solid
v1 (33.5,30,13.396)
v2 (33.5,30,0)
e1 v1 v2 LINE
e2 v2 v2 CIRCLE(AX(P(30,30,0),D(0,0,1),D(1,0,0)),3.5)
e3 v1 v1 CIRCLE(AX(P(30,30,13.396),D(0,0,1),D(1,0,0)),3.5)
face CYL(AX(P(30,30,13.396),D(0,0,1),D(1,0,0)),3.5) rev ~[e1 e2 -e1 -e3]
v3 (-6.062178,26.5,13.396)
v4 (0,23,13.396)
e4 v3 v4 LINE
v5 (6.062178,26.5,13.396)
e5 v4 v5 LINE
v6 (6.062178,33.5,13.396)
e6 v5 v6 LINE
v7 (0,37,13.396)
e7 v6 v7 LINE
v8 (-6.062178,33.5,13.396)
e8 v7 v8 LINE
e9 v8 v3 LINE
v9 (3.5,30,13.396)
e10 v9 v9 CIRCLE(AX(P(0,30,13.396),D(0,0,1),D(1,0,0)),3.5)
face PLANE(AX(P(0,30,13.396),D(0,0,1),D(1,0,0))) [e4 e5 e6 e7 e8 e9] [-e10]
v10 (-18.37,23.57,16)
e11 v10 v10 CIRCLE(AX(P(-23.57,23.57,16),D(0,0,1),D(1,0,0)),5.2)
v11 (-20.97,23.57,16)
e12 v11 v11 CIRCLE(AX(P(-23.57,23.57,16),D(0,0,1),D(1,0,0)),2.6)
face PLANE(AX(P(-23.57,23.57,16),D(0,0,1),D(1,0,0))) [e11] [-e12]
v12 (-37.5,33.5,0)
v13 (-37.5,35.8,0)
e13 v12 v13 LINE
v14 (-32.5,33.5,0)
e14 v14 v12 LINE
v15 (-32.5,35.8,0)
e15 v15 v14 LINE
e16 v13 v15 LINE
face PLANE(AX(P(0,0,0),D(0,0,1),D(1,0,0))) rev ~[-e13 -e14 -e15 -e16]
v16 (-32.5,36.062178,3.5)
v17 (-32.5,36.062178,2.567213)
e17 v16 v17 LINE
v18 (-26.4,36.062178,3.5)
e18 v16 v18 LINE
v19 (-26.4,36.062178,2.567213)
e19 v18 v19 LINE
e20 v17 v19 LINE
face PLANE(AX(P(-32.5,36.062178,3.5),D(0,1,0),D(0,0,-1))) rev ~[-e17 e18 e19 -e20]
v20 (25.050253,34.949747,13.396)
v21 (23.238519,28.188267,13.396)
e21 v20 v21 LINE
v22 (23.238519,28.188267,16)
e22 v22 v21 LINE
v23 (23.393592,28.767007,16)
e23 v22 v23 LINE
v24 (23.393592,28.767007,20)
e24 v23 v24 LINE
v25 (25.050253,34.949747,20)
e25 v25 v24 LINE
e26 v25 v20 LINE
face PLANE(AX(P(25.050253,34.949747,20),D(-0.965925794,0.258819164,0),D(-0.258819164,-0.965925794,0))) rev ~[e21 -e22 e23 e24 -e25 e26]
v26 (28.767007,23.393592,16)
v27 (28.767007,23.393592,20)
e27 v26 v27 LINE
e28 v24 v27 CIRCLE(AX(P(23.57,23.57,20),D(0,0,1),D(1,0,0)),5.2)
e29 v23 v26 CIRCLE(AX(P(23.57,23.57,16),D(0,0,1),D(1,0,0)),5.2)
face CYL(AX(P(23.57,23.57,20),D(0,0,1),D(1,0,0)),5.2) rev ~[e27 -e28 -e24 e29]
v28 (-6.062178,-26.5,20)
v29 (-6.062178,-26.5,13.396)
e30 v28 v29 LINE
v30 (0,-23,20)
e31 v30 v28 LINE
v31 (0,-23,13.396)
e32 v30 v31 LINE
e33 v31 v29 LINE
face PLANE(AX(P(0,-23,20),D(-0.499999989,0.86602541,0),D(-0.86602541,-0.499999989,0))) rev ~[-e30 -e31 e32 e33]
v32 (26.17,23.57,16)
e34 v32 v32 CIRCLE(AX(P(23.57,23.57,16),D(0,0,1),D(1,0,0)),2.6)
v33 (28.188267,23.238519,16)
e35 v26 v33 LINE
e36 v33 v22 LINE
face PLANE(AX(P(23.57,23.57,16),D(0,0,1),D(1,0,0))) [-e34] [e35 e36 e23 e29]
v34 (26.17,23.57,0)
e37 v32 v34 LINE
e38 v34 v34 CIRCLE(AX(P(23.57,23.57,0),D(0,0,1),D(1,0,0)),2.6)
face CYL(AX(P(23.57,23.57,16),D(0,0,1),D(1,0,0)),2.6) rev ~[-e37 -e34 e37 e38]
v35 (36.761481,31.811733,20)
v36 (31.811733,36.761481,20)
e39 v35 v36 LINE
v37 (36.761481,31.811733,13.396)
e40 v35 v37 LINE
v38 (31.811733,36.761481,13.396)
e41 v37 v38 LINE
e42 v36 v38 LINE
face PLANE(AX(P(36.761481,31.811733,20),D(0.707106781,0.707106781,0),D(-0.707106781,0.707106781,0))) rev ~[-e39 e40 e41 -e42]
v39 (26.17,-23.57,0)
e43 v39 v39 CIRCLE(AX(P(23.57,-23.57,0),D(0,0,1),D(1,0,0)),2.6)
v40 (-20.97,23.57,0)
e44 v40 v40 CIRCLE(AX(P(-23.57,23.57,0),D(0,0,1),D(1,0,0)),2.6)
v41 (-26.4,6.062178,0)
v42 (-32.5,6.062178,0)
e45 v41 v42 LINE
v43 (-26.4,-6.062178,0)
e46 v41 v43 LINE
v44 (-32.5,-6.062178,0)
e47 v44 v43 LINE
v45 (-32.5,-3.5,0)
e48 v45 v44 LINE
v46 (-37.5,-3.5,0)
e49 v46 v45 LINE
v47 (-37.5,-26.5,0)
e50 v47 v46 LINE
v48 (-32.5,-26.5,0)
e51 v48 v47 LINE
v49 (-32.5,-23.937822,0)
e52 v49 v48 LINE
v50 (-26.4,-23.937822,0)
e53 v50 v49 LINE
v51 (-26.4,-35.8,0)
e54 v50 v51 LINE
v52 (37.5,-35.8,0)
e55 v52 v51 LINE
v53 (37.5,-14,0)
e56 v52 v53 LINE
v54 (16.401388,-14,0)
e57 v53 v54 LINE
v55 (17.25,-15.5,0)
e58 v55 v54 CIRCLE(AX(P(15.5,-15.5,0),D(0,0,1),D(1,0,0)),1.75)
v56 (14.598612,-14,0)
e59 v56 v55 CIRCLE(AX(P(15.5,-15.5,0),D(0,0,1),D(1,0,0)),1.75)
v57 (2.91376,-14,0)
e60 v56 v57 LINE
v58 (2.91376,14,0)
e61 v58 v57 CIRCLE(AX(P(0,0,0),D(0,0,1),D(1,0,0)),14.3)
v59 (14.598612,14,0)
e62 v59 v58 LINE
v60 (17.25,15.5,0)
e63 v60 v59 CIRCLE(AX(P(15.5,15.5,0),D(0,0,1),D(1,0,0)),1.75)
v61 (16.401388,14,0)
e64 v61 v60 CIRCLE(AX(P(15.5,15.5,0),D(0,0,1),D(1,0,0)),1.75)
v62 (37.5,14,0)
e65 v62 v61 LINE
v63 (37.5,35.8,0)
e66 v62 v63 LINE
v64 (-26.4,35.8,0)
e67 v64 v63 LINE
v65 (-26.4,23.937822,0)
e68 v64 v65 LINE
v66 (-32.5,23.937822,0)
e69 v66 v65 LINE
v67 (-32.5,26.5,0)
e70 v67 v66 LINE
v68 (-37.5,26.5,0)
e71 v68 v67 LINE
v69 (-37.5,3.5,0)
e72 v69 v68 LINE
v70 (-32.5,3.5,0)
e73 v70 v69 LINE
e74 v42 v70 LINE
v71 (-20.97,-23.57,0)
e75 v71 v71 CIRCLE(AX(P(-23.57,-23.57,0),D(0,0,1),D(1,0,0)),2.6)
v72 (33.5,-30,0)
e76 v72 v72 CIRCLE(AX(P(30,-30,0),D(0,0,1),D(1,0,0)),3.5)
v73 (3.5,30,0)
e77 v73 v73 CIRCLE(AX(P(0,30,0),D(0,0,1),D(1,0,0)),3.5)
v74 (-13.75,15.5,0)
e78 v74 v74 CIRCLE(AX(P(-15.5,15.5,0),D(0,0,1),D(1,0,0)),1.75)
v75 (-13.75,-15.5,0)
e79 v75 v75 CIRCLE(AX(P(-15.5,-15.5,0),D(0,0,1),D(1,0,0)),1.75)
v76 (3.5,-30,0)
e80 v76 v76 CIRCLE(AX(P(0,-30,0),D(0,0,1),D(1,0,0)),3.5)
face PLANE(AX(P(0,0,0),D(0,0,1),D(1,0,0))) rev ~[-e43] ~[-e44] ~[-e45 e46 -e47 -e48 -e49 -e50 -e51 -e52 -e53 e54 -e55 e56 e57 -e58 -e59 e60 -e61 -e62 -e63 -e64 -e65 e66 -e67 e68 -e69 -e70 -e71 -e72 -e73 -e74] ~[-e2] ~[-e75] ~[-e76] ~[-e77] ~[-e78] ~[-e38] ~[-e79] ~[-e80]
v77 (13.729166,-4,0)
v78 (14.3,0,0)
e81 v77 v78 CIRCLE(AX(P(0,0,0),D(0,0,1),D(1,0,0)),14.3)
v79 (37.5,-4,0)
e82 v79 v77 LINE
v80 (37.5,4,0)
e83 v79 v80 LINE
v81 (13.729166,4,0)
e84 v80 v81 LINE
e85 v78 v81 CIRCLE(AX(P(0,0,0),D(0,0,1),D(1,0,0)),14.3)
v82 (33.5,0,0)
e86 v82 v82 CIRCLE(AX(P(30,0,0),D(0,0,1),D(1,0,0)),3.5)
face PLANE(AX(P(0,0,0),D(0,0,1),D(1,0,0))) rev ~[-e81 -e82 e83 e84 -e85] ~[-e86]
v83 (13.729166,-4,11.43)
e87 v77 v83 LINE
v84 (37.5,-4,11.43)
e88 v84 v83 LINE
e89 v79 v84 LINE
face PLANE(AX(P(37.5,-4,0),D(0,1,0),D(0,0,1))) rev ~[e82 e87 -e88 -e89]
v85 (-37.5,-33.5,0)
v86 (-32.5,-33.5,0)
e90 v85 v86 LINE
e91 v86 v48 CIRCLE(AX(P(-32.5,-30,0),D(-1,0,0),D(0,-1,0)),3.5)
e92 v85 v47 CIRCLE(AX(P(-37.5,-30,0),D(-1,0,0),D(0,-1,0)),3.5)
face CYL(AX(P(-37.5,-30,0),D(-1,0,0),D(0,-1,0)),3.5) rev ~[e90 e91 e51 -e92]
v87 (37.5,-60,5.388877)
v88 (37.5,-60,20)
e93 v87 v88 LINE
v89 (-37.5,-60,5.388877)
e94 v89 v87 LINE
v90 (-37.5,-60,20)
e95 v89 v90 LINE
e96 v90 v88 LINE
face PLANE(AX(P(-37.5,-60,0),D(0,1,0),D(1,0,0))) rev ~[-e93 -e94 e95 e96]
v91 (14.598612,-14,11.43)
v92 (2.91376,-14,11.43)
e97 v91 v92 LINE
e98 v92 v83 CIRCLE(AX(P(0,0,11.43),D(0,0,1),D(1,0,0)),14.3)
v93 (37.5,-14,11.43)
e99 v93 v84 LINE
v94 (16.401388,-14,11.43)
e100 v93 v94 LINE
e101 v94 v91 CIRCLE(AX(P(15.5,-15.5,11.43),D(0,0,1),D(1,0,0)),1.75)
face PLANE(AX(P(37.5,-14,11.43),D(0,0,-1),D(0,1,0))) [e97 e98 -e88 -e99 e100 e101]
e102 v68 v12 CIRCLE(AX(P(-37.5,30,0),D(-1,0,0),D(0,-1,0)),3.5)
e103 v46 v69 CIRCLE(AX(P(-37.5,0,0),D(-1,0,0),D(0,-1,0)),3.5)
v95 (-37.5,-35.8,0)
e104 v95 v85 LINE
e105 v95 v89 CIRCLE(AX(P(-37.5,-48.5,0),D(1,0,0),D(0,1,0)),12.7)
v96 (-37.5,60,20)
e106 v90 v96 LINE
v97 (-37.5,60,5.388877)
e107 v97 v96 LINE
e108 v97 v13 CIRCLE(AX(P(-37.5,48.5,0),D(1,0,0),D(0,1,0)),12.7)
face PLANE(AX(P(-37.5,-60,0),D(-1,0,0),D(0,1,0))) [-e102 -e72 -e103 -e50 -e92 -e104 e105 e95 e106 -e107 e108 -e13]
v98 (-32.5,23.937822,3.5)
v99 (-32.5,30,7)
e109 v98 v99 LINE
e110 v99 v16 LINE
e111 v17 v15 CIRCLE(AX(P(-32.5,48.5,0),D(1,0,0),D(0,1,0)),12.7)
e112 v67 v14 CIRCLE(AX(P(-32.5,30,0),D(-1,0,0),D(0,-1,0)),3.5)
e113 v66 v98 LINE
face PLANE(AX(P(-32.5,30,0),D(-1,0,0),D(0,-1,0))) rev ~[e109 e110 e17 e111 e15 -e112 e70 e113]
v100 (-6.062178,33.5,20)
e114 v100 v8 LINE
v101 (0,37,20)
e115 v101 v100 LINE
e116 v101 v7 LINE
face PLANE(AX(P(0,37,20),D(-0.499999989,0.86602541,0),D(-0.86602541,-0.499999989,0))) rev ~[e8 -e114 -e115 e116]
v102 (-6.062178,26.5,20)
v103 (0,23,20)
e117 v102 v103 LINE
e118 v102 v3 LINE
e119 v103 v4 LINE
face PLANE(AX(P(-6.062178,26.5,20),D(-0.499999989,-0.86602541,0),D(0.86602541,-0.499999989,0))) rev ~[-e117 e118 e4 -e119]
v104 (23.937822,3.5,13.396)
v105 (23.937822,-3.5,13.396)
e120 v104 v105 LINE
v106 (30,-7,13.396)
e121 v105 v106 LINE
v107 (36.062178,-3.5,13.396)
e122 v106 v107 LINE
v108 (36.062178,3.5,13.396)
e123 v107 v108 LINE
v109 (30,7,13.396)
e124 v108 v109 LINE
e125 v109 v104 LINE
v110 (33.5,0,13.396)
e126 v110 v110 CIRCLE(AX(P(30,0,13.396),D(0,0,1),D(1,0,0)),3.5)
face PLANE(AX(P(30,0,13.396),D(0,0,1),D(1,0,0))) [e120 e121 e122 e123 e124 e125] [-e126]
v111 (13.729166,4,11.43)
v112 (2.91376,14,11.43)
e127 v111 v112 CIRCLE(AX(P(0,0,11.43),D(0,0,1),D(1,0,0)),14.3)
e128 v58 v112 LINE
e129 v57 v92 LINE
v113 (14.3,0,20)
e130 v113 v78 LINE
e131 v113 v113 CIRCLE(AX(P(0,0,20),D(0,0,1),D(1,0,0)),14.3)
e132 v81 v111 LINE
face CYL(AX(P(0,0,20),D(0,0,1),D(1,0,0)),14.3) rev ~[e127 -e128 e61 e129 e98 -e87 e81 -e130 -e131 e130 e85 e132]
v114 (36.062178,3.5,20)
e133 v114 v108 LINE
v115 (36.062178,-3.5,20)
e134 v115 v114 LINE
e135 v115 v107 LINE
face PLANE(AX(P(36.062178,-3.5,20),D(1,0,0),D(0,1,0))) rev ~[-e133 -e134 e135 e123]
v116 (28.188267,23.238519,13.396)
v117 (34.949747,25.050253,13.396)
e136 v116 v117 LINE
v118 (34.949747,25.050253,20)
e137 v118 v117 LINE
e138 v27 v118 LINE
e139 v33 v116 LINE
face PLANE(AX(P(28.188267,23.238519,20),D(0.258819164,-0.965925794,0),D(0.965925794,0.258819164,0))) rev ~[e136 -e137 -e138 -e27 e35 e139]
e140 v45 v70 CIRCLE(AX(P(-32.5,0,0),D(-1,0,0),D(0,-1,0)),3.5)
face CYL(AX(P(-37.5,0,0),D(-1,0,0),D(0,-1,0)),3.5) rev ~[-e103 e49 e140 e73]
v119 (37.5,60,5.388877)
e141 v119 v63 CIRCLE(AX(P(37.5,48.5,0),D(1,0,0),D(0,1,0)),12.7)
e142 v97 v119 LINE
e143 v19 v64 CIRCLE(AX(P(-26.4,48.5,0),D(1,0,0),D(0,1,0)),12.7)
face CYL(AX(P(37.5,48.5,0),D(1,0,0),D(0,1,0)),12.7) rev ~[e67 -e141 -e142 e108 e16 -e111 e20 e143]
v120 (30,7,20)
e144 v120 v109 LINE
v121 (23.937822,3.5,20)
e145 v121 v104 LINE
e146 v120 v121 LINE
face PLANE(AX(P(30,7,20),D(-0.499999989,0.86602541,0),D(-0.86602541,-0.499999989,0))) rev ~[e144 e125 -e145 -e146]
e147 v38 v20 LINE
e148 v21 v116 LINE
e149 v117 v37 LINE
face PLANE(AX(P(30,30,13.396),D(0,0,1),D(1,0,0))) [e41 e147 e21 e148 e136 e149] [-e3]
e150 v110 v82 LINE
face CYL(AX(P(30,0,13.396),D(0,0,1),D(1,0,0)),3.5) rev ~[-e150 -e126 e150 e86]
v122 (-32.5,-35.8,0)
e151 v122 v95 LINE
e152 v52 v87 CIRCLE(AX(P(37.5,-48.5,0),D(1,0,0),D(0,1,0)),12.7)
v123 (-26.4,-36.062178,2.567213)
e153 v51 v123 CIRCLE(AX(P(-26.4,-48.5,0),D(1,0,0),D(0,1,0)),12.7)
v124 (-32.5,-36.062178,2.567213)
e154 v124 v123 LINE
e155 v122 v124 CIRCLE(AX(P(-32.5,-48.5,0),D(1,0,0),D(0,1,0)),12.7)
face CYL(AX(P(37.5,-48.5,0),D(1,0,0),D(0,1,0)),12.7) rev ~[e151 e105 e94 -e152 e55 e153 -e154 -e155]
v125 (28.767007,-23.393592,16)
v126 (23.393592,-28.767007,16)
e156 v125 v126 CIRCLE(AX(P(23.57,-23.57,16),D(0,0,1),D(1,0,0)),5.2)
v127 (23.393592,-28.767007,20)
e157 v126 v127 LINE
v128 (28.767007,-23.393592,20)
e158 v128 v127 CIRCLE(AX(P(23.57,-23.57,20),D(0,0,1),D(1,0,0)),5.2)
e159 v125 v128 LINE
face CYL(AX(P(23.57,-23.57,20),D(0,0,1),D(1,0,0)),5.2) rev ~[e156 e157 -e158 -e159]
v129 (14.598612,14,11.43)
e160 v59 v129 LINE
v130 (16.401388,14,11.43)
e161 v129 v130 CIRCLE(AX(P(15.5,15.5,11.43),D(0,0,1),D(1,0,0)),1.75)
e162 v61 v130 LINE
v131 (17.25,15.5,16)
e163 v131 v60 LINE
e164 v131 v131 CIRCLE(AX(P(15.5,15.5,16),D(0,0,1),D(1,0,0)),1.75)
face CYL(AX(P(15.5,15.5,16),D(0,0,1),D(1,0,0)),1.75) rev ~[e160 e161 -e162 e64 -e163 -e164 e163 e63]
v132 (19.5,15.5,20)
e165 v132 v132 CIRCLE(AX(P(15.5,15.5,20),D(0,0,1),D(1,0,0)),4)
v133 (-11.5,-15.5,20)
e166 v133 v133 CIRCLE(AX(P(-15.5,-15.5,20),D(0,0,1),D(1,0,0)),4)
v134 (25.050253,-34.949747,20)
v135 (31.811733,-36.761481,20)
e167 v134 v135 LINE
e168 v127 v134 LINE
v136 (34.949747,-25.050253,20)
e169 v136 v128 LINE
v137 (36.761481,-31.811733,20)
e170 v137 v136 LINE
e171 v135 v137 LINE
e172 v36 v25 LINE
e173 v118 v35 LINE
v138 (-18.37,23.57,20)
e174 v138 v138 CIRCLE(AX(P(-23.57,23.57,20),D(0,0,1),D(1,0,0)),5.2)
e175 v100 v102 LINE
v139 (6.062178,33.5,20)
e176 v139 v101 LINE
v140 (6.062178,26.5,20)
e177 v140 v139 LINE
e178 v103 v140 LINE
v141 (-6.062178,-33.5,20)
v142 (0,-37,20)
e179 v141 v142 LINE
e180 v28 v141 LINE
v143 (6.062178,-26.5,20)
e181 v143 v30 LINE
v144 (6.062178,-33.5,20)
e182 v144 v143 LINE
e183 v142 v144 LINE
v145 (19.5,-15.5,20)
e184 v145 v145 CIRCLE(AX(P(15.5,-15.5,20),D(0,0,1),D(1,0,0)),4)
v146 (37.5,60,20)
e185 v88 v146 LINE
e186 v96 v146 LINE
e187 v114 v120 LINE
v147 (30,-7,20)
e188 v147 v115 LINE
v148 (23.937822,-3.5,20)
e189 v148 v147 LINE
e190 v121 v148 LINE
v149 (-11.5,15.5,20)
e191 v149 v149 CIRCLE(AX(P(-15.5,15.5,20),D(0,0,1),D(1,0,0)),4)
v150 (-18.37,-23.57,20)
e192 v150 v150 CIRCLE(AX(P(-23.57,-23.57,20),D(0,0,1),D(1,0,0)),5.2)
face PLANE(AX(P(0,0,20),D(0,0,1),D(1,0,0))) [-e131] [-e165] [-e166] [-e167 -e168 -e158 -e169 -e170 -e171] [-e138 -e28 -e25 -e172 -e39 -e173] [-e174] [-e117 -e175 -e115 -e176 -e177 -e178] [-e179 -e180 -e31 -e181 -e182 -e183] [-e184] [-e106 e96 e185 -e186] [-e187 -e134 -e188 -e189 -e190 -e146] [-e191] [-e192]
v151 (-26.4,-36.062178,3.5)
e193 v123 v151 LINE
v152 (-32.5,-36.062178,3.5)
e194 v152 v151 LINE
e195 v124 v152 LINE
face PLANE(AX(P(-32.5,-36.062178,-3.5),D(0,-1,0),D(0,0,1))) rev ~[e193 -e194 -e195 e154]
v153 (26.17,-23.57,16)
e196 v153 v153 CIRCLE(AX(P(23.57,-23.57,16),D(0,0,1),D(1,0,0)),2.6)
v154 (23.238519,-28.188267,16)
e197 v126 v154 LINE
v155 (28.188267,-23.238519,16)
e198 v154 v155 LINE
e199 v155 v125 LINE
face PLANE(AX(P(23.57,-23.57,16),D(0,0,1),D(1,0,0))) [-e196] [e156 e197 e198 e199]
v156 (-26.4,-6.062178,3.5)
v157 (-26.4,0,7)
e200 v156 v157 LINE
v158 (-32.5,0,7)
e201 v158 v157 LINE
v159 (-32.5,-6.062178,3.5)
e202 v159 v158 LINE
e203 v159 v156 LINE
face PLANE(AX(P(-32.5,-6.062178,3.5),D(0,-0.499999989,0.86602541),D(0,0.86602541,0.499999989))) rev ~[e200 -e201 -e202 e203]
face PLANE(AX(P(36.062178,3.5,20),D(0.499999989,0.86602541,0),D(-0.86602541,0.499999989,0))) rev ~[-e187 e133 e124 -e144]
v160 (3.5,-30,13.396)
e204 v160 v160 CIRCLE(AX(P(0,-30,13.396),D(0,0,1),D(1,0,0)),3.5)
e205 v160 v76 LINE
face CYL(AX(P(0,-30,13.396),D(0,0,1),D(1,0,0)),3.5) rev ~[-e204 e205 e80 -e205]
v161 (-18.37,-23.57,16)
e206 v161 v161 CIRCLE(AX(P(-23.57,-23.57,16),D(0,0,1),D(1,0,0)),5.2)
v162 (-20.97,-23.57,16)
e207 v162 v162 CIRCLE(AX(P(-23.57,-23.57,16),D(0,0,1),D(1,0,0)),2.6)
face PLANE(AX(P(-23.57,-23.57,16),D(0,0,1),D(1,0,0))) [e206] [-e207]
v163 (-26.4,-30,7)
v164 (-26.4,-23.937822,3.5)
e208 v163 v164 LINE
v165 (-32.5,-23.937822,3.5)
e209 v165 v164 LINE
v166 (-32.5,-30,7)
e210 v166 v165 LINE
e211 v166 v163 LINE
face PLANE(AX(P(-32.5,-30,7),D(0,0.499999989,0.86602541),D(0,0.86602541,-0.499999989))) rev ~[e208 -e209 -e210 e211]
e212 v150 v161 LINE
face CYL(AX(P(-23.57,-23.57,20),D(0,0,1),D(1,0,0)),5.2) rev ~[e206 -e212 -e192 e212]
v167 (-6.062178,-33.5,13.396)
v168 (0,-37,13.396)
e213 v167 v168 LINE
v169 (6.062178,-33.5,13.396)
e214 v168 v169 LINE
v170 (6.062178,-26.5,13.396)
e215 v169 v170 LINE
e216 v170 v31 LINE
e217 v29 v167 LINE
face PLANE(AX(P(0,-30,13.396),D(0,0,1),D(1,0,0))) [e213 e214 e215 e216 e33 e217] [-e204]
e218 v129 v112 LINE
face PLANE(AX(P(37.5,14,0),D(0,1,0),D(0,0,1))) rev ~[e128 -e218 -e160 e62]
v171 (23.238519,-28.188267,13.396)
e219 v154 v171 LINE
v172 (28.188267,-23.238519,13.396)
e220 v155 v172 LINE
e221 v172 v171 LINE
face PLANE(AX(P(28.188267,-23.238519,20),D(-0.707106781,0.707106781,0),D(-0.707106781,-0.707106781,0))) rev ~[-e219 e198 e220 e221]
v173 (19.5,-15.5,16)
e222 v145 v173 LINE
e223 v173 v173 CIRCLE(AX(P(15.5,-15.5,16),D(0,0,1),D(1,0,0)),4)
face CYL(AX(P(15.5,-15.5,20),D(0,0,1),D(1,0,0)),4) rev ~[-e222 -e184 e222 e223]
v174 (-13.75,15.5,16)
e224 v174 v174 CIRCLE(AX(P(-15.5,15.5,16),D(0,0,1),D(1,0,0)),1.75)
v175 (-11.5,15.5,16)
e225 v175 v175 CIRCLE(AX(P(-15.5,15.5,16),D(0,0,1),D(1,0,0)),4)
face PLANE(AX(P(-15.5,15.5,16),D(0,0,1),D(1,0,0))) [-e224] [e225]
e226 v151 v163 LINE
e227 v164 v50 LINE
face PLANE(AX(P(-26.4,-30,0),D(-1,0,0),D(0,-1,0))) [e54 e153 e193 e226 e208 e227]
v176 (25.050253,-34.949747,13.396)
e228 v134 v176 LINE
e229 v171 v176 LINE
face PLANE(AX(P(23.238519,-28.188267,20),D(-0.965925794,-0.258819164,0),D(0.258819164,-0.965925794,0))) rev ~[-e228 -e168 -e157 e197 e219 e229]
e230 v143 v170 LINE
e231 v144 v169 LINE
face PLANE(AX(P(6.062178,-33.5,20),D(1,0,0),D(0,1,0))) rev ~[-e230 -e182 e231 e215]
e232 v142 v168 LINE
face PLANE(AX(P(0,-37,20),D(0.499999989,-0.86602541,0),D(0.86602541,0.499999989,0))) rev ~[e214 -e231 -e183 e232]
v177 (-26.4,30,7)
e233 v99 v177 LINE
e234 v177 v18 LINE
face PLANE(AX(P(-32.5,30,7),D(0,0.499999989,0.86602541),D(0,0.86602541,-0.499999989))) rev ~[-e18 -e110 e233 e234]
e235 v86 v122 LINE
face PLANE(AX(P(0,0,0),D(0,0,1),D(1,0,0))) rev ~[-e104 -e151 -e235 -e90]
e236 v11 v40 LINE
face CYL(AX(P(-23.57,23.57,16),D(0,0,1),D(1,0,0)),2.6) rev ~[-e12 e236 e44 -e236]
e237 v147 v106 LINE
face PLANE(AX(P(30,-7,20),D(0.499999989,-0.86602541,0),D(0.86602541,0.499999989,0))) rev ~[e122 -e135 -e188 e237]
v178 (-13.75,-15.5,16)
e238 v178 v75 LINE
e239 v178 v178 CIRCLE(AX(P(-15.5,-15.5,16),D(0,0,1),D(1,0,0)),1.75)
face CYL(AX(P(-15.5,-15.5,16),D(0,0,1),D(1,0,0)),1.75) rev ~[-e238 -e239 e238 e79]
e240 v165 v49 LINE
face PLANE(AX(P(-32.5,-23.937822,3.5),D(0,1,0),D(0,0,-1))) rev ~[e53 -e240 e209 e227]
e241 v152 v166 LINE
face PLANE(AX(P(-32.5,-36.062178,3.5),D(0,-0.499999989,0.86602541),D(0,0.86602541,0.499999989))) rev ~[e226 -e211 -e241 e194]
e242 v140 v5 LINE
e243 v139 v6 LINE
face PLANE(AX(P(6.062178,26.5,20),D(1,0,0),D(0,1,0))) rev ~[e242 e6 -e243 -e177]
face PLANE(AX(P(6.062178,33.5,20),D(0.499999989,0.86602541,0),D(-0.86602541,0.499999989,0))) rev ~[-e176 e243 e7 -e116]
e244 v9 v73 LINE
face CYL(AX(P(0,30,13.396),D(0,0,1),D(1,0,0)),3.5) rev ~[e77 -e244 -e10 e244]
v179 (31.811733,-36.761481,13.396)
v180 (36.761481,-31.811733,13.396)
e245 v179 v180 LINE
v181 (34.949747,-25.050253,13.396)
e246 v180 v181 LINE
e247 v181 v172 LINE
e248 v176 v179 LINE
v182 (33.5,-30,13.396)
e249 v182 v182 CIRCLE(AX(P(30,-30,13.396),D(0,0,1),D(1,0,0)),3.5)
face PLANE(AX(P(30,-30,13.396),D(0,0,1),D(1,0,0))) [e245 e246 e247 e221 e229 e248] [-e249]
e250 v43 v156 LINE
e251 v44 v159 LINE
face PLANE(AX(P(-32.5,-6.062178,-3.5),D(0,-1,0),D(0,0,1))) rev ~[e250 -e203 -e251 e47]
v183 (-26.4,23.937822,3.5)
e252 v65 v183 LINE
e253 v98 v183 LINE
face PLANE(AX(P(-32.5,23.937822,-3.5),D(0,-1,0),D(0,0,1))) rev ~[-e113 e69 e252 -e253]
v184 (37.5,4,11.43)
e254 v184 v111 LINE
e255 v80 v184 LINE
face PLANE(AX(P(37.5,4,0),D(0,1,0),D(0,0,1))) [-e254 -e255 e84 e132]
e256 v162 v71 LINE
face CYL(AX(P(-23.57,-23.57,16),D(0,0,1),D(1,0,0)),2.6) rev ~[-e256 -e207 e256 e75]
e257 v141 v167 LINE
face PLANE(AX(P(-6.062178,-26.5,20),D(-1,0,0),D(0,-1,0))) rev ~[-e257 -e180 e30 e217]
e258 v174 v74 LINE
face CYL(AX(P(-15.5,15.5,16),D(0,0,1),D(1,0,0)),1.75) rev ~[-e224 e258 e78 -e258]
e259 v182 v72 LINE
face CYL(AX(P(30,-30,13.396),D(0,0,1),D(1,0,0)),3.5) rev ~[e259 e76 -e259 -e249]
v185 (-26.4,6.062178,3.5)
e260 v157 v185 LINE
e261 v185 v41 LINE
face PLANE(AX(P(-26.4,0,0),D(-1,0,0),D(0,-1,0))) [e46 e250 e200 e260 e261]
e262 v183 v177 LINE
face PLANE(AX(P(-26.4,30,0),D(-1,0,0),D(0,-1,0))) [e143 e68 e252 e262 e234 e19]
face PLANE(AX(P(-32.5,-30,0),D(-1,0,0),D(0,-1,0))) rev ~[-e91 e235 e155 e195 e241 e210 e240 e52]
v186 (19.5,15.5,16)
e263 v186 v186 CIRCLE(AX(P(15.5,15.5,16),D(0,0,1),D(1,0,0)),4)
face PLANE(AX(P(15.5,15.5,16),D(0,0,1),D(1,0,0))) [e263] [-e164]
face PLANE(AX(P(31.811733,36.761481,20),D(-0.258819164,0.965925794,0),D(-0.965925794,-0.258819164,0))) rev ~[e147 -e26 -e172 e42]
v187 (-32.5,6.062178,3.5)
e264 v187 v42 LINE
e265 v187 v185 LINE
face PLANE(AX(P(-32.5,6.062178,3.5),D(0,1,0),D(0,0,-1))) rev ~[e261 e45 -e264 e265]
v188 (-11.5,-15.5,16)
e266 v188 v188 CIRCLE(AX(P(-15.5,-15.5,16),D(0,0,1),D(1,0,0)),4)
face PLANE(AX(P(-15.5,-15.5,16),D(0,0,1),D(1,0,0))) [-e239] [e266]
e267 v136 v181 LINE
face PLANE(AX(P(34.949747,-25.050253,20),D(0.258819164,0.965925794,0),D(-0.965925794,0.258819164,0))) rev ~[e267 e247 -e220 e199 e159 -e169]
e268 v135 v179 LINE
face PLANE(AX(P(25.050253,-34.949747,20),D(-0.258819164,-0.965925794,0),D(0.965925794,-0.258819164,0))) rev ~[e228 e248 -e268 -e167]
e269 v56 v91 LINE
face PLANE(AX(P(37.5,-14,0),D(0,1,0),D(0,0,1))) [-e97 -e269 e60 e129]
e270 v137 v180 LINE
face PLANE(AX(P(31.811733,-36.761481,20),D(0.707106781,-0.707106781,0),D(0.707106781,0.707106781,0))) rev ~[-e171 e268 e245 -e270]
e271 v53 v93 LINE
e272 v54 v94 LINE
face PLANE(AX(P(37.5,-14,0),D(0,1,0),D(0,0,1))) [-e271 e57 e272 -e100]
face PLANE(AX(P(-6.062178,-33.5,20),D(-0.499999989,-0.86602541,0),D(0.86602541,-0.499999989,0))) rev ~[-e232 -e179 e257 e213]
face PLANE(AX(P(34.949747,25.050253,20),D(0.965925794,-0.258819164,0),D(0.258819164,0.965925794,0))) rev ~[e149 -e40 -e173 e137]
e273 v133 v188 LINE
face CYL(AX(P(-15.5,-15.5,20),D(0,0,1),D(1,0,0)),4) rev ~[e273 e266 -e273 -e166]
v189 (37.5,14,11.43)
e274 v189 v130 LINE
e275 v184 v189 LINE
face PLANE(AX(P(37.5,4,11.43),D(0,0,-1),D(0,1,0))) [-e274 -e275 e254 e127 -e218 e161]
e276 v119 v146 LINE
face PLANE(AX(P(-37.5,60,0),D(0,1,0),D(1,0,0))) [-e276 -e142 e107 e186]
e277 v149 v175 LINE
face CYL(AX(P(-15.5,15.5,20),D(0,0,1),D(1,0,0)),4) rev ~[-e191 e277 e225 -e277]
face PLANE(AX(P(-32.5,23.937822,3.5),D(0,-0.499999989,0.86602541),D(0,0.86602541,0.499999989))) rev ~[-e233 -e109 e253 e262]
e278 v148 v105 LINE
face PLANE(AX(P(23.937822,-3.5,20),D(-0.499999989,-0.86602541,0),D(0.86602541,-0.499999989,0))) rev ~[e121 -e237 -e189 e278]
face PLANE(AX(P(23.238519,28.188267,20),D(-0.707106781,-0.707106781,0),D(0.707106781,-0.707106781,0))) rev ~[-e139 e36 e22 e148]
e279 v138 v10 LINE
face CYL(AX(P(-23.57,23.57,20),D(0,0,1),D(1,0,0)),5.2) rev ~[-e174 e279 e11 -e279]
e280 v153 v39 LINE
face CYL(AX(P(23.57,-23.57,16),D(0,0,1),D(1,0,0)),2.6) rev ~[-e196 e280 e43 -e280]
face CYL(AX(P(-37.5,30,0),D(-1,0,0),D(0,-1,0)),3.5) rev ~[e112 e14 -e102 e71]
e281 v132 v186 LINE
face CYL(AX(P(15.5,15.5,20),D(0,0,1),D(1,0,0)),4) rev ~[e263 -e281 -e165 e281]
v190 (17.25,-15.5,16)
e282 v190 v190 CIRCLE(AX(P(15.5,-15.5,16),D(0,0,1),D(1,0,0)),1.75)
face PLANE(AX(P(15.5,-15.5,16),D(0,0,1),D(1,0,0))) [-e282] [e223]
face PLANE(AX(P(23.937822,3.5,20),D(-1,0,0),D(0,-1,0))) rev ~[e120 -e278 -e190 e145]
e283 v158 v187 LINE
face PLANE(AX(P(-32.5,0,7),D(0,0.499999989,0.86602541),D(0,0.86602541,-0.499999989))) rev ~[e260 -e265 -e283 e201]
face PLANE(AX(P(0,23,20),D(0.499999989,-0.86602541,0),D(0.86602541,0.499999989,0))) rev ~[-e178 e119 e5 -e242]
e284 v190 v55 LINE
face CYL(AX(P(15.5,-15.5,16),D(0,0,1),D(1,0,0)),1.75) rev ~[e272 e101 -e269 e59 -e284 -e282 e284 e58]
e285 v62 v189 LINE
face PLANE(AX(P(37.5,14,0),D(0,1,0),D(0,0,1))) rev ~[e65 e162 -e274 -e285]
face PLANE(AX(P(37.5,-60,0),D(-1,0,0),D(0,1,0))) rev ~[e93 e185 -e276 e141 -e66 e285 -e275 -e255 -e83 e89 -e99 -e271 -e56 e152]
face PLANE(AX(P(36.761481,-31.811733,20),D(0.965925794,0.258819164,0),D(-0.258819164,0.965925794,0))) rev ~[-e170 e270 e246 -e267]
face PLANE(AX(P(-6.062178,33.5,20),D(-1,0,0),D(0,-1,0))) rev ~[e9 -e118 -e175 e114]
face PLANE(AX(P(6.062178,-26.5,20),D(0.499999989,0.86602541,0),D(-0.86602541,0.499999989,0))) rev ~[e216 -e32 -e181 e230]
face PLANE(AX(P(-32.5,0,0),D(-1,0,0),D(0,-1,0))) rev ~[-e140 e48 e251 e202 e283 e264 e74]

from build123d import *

# Parameters (mm, degrees)
SKETCH_W        = 75
SKETCH_H        = 120
PAD_DEPTH       = 20
POCKET_DEPTH    = 6.604
SKETCH002_R     = 3.5
POCKET001_DEPTH = 13.397
SKETCH003_R     = 5.2
SKETCH003_R_2   = 4
POCKET002_DEPTH = 4
SKETCH004_R     = 2.6
SKETCH004_R_2   = 1.75
POCKET003_DEPTH = 16.001
SKETCH005_R     = 14.3
POCKET004_DEPTH = 20.001
SKETCH006_W     = 10
SKETCH006_H     = 11.43
POCKET005_DEPTH = 37.5
SKETCH007_R     = 3.5
POCKET006_DEPTH = 5
POCKET007_DEPTH = 6.1
SKETCH009_R     = 12.7
POCKET008_DEPTH = 75.001


with BuildPart() as part:
    # Sketch → Pad (new body)
    with BuildSketch(Plane.XY):
        Rectangle(SKETCH_W, SKETCH_H)
    extrude(amount=PAD_DEPTH)

    # Sketch001 (on Face6 of Pad) → Pocket (cut)
    with BuildSketch(Plane.XY.offset(20)):
        Polygon((6.062178, 33.5), (0, 37), (-6.062178, 33.5), (-6.062178, 26.5), (0, 23), (6.062178, 26.5), align=None)
        Polygon((30, 7), (23.937822, 3.5), (23.937822, -3.5), (30, -7), (36.062178, -3.5), (36.062178, 3.5), align=None)
        Polygon((6.062178, -26.5), (0, -23), (-6.062178, -26.5), (-6.062178, -33.5), (0, -37), (6.062178, -33.5), align=None)
        Polygon((34.949747, 25.050253), (36.761481, 31.811733), (31.811733, 36.761481), (25.050253, 34.949747), (23.238519, 28.188267), (28.188267, 23.238519), align=None)
        Polygon((34.949747, -25.050253), (28.188267, -23.238519), (23.238519, -28.188267), (25.050253, -34.949747), (31.811733, -36.761481), (36.761481, -31.811733), align=None)
    extrude(amount=-POCKET_DEPTH, mode=Mode.SUBTRACT)

    # Sketch002 (on Face37 of Pocket) → Pocket001 (cut, through all)
    with BuildSketch(Plane.XY.offset(13.396)):
        with Locations((0, 30)):
            Circle(SKETCH002_R)
        with Locations((30, 30)):
            Circle(SKETCH002_R)
        with Locations((30, -30)):
            Circle(SKETCH002_R)
        with Locations((0, -30)):
            Circle(SKETCH002_R)
        with Locations((30, 0)):
            Circle(SKETCH002_R)
    extrude(amount=-POCKET001_DEPTH, mode=Mode.SUBTRACT)

    # Sketch003 (on Face5 of Pocket001) → Pocket002 (cut)
    with BuildSketch(Plane.XY.offset(20)):
        with Locations((-23.57, 23.57)):
            Circle(SKETCH003_R)
        with Locations((23.57, 23.57)):
            Circle(SKETCH003_R)
        with Locations((23.57, -23.57)):
            Circle(SKETCH003_R)
        with Locations((-23.57, -23.57)):
            Circle(SKETCH003_R)
        with Locations((-15.5, 15.5)):
            Circle(SKETCH003_R_2)
        with Locations((15.5, 15.5)):
            Circle(SKETCH003_R_2)
        with Locations((15.5, -15.5)):
            Circle(SKETCH003_R_2)
        with Locations((-15.5, -15.5)):
            Circle(SKETCH003_R_2)
    extrude(amount=-POCKET002_DEPTH, mode=Mode.SUBTRACT)

    # Sketch004 (on Face57 of Pocket002) → Pocket003 (cut, through all)
    with BuildSketch(Plane.XY.offset(16)):
        with Locations((-23.57, 23.57)):
            Circle(SKETCH004_R)
        with Locations((23.57, 23.57)):
            Circle(SKETCH004_R)
        with Locations((23.57, -23.57)):
            Circle(SKETCH004_R)
        with Locations((-23.57, -23.57)):
            Circle(SKETCH004_R)
        with Locations((-15.5, 15.5)):
            Circle(SKETCH004_R_2)
        with Locations((15.5, 15.5)):
            Circle(SKETCH004_R_2)
        with Locations((-15.5, -15.5)):
            Circle(SKETCH004_R_2)
        with Locations((15.5, -15.5)):
            Circle(SKETCH004_R_2)
    extrude(amount=-POCKET003_DEPTH, mode=Mode.SUBTRACT)

    # Sketch005 (on Face5 of Pocket003) → Pocket004 (cut, through all)
    with BuildSketch(Plane.XY.offset(20)):
        Circle(SKETCH005_R)
    extrude(amount=-POCKET004_DEPTH, mode=Mode.SUBTRACT)

    # Sketch006 (on Face3 of Pocket004) → Pocket005 (cut)
    with BuildSketch(Plane.YZ.offset(37.5)):
        with Locations((-9, 5.715)):
            Rectangle(SKETCH006_W, SKETCH006_H)
        with Locations((9, 5.715)):
            Rectangle(SKETCH006_W, SKETCH006_H)
    extrude(amount=-POCKET005_DEPTH, mode=Mode.SUBTRACT)

    # Sketch007 (on Face2 of Pocket005) → Pocket006 (cut)
    with BuildSketch(Plane(origin=(-37.5, 0, 0), x_dir=(0, -1, 0), z_dir=(-1, 0, 0))):
        with Locations((-30, 0)):
            Circle(SKETCH007_R)
        Circle(SKETCH007_R)
        with Locations((30, 0)):
            Circle(SKETCH007_R)
    extrude(amount=-POCKET006_DEPTH, mode=Mode.SUBTRACT)

    # Sketch008 (on Face22 of Pocket006) → Pocket007 (cut)
    with BuildSketch(Plane(origin=(-32.5, 0, 0), x_dir=(0, -1, 0), z_dir=(-1, 0, 0))):
        Polygon((-36.062178, -3.5), (-30, -7), (-23.937822, -3.5), (-23.937822, 3.5), (-30, 7), (-36.062178, 3.5), align=None)
        Polygon((-6.062178, -3.5), (0, -7), (6.062178, -3.5), (6.062178, 3.5), (0, 7), (-6.062178, 3.5), align=None)
        Polygon((36.062178, 3.5), (30, 7), (23.937822, 3.5), (23.937822, -3.5), (30, -7), (36.062178, -3.5), align=None)
    extrude(amount=-POCKET007_DEPTH, mode=Mode.SUBTRACT)

    # Sketch009 (on Face3 of Pocket007) → Pocket008 (cut, through all)
    with BuildSketch(Plane.YZ.offset(37.5)):
        with Locations((-48.5, 0)):
            Circle(SKETCH009_R)
        with Locations((48.5, 0)):
            Circle(SKETCH009_R)
    extrude(amount=-POCKET008_DEPTH, mode=Mode.SUBTRACT)


solid = part.part
